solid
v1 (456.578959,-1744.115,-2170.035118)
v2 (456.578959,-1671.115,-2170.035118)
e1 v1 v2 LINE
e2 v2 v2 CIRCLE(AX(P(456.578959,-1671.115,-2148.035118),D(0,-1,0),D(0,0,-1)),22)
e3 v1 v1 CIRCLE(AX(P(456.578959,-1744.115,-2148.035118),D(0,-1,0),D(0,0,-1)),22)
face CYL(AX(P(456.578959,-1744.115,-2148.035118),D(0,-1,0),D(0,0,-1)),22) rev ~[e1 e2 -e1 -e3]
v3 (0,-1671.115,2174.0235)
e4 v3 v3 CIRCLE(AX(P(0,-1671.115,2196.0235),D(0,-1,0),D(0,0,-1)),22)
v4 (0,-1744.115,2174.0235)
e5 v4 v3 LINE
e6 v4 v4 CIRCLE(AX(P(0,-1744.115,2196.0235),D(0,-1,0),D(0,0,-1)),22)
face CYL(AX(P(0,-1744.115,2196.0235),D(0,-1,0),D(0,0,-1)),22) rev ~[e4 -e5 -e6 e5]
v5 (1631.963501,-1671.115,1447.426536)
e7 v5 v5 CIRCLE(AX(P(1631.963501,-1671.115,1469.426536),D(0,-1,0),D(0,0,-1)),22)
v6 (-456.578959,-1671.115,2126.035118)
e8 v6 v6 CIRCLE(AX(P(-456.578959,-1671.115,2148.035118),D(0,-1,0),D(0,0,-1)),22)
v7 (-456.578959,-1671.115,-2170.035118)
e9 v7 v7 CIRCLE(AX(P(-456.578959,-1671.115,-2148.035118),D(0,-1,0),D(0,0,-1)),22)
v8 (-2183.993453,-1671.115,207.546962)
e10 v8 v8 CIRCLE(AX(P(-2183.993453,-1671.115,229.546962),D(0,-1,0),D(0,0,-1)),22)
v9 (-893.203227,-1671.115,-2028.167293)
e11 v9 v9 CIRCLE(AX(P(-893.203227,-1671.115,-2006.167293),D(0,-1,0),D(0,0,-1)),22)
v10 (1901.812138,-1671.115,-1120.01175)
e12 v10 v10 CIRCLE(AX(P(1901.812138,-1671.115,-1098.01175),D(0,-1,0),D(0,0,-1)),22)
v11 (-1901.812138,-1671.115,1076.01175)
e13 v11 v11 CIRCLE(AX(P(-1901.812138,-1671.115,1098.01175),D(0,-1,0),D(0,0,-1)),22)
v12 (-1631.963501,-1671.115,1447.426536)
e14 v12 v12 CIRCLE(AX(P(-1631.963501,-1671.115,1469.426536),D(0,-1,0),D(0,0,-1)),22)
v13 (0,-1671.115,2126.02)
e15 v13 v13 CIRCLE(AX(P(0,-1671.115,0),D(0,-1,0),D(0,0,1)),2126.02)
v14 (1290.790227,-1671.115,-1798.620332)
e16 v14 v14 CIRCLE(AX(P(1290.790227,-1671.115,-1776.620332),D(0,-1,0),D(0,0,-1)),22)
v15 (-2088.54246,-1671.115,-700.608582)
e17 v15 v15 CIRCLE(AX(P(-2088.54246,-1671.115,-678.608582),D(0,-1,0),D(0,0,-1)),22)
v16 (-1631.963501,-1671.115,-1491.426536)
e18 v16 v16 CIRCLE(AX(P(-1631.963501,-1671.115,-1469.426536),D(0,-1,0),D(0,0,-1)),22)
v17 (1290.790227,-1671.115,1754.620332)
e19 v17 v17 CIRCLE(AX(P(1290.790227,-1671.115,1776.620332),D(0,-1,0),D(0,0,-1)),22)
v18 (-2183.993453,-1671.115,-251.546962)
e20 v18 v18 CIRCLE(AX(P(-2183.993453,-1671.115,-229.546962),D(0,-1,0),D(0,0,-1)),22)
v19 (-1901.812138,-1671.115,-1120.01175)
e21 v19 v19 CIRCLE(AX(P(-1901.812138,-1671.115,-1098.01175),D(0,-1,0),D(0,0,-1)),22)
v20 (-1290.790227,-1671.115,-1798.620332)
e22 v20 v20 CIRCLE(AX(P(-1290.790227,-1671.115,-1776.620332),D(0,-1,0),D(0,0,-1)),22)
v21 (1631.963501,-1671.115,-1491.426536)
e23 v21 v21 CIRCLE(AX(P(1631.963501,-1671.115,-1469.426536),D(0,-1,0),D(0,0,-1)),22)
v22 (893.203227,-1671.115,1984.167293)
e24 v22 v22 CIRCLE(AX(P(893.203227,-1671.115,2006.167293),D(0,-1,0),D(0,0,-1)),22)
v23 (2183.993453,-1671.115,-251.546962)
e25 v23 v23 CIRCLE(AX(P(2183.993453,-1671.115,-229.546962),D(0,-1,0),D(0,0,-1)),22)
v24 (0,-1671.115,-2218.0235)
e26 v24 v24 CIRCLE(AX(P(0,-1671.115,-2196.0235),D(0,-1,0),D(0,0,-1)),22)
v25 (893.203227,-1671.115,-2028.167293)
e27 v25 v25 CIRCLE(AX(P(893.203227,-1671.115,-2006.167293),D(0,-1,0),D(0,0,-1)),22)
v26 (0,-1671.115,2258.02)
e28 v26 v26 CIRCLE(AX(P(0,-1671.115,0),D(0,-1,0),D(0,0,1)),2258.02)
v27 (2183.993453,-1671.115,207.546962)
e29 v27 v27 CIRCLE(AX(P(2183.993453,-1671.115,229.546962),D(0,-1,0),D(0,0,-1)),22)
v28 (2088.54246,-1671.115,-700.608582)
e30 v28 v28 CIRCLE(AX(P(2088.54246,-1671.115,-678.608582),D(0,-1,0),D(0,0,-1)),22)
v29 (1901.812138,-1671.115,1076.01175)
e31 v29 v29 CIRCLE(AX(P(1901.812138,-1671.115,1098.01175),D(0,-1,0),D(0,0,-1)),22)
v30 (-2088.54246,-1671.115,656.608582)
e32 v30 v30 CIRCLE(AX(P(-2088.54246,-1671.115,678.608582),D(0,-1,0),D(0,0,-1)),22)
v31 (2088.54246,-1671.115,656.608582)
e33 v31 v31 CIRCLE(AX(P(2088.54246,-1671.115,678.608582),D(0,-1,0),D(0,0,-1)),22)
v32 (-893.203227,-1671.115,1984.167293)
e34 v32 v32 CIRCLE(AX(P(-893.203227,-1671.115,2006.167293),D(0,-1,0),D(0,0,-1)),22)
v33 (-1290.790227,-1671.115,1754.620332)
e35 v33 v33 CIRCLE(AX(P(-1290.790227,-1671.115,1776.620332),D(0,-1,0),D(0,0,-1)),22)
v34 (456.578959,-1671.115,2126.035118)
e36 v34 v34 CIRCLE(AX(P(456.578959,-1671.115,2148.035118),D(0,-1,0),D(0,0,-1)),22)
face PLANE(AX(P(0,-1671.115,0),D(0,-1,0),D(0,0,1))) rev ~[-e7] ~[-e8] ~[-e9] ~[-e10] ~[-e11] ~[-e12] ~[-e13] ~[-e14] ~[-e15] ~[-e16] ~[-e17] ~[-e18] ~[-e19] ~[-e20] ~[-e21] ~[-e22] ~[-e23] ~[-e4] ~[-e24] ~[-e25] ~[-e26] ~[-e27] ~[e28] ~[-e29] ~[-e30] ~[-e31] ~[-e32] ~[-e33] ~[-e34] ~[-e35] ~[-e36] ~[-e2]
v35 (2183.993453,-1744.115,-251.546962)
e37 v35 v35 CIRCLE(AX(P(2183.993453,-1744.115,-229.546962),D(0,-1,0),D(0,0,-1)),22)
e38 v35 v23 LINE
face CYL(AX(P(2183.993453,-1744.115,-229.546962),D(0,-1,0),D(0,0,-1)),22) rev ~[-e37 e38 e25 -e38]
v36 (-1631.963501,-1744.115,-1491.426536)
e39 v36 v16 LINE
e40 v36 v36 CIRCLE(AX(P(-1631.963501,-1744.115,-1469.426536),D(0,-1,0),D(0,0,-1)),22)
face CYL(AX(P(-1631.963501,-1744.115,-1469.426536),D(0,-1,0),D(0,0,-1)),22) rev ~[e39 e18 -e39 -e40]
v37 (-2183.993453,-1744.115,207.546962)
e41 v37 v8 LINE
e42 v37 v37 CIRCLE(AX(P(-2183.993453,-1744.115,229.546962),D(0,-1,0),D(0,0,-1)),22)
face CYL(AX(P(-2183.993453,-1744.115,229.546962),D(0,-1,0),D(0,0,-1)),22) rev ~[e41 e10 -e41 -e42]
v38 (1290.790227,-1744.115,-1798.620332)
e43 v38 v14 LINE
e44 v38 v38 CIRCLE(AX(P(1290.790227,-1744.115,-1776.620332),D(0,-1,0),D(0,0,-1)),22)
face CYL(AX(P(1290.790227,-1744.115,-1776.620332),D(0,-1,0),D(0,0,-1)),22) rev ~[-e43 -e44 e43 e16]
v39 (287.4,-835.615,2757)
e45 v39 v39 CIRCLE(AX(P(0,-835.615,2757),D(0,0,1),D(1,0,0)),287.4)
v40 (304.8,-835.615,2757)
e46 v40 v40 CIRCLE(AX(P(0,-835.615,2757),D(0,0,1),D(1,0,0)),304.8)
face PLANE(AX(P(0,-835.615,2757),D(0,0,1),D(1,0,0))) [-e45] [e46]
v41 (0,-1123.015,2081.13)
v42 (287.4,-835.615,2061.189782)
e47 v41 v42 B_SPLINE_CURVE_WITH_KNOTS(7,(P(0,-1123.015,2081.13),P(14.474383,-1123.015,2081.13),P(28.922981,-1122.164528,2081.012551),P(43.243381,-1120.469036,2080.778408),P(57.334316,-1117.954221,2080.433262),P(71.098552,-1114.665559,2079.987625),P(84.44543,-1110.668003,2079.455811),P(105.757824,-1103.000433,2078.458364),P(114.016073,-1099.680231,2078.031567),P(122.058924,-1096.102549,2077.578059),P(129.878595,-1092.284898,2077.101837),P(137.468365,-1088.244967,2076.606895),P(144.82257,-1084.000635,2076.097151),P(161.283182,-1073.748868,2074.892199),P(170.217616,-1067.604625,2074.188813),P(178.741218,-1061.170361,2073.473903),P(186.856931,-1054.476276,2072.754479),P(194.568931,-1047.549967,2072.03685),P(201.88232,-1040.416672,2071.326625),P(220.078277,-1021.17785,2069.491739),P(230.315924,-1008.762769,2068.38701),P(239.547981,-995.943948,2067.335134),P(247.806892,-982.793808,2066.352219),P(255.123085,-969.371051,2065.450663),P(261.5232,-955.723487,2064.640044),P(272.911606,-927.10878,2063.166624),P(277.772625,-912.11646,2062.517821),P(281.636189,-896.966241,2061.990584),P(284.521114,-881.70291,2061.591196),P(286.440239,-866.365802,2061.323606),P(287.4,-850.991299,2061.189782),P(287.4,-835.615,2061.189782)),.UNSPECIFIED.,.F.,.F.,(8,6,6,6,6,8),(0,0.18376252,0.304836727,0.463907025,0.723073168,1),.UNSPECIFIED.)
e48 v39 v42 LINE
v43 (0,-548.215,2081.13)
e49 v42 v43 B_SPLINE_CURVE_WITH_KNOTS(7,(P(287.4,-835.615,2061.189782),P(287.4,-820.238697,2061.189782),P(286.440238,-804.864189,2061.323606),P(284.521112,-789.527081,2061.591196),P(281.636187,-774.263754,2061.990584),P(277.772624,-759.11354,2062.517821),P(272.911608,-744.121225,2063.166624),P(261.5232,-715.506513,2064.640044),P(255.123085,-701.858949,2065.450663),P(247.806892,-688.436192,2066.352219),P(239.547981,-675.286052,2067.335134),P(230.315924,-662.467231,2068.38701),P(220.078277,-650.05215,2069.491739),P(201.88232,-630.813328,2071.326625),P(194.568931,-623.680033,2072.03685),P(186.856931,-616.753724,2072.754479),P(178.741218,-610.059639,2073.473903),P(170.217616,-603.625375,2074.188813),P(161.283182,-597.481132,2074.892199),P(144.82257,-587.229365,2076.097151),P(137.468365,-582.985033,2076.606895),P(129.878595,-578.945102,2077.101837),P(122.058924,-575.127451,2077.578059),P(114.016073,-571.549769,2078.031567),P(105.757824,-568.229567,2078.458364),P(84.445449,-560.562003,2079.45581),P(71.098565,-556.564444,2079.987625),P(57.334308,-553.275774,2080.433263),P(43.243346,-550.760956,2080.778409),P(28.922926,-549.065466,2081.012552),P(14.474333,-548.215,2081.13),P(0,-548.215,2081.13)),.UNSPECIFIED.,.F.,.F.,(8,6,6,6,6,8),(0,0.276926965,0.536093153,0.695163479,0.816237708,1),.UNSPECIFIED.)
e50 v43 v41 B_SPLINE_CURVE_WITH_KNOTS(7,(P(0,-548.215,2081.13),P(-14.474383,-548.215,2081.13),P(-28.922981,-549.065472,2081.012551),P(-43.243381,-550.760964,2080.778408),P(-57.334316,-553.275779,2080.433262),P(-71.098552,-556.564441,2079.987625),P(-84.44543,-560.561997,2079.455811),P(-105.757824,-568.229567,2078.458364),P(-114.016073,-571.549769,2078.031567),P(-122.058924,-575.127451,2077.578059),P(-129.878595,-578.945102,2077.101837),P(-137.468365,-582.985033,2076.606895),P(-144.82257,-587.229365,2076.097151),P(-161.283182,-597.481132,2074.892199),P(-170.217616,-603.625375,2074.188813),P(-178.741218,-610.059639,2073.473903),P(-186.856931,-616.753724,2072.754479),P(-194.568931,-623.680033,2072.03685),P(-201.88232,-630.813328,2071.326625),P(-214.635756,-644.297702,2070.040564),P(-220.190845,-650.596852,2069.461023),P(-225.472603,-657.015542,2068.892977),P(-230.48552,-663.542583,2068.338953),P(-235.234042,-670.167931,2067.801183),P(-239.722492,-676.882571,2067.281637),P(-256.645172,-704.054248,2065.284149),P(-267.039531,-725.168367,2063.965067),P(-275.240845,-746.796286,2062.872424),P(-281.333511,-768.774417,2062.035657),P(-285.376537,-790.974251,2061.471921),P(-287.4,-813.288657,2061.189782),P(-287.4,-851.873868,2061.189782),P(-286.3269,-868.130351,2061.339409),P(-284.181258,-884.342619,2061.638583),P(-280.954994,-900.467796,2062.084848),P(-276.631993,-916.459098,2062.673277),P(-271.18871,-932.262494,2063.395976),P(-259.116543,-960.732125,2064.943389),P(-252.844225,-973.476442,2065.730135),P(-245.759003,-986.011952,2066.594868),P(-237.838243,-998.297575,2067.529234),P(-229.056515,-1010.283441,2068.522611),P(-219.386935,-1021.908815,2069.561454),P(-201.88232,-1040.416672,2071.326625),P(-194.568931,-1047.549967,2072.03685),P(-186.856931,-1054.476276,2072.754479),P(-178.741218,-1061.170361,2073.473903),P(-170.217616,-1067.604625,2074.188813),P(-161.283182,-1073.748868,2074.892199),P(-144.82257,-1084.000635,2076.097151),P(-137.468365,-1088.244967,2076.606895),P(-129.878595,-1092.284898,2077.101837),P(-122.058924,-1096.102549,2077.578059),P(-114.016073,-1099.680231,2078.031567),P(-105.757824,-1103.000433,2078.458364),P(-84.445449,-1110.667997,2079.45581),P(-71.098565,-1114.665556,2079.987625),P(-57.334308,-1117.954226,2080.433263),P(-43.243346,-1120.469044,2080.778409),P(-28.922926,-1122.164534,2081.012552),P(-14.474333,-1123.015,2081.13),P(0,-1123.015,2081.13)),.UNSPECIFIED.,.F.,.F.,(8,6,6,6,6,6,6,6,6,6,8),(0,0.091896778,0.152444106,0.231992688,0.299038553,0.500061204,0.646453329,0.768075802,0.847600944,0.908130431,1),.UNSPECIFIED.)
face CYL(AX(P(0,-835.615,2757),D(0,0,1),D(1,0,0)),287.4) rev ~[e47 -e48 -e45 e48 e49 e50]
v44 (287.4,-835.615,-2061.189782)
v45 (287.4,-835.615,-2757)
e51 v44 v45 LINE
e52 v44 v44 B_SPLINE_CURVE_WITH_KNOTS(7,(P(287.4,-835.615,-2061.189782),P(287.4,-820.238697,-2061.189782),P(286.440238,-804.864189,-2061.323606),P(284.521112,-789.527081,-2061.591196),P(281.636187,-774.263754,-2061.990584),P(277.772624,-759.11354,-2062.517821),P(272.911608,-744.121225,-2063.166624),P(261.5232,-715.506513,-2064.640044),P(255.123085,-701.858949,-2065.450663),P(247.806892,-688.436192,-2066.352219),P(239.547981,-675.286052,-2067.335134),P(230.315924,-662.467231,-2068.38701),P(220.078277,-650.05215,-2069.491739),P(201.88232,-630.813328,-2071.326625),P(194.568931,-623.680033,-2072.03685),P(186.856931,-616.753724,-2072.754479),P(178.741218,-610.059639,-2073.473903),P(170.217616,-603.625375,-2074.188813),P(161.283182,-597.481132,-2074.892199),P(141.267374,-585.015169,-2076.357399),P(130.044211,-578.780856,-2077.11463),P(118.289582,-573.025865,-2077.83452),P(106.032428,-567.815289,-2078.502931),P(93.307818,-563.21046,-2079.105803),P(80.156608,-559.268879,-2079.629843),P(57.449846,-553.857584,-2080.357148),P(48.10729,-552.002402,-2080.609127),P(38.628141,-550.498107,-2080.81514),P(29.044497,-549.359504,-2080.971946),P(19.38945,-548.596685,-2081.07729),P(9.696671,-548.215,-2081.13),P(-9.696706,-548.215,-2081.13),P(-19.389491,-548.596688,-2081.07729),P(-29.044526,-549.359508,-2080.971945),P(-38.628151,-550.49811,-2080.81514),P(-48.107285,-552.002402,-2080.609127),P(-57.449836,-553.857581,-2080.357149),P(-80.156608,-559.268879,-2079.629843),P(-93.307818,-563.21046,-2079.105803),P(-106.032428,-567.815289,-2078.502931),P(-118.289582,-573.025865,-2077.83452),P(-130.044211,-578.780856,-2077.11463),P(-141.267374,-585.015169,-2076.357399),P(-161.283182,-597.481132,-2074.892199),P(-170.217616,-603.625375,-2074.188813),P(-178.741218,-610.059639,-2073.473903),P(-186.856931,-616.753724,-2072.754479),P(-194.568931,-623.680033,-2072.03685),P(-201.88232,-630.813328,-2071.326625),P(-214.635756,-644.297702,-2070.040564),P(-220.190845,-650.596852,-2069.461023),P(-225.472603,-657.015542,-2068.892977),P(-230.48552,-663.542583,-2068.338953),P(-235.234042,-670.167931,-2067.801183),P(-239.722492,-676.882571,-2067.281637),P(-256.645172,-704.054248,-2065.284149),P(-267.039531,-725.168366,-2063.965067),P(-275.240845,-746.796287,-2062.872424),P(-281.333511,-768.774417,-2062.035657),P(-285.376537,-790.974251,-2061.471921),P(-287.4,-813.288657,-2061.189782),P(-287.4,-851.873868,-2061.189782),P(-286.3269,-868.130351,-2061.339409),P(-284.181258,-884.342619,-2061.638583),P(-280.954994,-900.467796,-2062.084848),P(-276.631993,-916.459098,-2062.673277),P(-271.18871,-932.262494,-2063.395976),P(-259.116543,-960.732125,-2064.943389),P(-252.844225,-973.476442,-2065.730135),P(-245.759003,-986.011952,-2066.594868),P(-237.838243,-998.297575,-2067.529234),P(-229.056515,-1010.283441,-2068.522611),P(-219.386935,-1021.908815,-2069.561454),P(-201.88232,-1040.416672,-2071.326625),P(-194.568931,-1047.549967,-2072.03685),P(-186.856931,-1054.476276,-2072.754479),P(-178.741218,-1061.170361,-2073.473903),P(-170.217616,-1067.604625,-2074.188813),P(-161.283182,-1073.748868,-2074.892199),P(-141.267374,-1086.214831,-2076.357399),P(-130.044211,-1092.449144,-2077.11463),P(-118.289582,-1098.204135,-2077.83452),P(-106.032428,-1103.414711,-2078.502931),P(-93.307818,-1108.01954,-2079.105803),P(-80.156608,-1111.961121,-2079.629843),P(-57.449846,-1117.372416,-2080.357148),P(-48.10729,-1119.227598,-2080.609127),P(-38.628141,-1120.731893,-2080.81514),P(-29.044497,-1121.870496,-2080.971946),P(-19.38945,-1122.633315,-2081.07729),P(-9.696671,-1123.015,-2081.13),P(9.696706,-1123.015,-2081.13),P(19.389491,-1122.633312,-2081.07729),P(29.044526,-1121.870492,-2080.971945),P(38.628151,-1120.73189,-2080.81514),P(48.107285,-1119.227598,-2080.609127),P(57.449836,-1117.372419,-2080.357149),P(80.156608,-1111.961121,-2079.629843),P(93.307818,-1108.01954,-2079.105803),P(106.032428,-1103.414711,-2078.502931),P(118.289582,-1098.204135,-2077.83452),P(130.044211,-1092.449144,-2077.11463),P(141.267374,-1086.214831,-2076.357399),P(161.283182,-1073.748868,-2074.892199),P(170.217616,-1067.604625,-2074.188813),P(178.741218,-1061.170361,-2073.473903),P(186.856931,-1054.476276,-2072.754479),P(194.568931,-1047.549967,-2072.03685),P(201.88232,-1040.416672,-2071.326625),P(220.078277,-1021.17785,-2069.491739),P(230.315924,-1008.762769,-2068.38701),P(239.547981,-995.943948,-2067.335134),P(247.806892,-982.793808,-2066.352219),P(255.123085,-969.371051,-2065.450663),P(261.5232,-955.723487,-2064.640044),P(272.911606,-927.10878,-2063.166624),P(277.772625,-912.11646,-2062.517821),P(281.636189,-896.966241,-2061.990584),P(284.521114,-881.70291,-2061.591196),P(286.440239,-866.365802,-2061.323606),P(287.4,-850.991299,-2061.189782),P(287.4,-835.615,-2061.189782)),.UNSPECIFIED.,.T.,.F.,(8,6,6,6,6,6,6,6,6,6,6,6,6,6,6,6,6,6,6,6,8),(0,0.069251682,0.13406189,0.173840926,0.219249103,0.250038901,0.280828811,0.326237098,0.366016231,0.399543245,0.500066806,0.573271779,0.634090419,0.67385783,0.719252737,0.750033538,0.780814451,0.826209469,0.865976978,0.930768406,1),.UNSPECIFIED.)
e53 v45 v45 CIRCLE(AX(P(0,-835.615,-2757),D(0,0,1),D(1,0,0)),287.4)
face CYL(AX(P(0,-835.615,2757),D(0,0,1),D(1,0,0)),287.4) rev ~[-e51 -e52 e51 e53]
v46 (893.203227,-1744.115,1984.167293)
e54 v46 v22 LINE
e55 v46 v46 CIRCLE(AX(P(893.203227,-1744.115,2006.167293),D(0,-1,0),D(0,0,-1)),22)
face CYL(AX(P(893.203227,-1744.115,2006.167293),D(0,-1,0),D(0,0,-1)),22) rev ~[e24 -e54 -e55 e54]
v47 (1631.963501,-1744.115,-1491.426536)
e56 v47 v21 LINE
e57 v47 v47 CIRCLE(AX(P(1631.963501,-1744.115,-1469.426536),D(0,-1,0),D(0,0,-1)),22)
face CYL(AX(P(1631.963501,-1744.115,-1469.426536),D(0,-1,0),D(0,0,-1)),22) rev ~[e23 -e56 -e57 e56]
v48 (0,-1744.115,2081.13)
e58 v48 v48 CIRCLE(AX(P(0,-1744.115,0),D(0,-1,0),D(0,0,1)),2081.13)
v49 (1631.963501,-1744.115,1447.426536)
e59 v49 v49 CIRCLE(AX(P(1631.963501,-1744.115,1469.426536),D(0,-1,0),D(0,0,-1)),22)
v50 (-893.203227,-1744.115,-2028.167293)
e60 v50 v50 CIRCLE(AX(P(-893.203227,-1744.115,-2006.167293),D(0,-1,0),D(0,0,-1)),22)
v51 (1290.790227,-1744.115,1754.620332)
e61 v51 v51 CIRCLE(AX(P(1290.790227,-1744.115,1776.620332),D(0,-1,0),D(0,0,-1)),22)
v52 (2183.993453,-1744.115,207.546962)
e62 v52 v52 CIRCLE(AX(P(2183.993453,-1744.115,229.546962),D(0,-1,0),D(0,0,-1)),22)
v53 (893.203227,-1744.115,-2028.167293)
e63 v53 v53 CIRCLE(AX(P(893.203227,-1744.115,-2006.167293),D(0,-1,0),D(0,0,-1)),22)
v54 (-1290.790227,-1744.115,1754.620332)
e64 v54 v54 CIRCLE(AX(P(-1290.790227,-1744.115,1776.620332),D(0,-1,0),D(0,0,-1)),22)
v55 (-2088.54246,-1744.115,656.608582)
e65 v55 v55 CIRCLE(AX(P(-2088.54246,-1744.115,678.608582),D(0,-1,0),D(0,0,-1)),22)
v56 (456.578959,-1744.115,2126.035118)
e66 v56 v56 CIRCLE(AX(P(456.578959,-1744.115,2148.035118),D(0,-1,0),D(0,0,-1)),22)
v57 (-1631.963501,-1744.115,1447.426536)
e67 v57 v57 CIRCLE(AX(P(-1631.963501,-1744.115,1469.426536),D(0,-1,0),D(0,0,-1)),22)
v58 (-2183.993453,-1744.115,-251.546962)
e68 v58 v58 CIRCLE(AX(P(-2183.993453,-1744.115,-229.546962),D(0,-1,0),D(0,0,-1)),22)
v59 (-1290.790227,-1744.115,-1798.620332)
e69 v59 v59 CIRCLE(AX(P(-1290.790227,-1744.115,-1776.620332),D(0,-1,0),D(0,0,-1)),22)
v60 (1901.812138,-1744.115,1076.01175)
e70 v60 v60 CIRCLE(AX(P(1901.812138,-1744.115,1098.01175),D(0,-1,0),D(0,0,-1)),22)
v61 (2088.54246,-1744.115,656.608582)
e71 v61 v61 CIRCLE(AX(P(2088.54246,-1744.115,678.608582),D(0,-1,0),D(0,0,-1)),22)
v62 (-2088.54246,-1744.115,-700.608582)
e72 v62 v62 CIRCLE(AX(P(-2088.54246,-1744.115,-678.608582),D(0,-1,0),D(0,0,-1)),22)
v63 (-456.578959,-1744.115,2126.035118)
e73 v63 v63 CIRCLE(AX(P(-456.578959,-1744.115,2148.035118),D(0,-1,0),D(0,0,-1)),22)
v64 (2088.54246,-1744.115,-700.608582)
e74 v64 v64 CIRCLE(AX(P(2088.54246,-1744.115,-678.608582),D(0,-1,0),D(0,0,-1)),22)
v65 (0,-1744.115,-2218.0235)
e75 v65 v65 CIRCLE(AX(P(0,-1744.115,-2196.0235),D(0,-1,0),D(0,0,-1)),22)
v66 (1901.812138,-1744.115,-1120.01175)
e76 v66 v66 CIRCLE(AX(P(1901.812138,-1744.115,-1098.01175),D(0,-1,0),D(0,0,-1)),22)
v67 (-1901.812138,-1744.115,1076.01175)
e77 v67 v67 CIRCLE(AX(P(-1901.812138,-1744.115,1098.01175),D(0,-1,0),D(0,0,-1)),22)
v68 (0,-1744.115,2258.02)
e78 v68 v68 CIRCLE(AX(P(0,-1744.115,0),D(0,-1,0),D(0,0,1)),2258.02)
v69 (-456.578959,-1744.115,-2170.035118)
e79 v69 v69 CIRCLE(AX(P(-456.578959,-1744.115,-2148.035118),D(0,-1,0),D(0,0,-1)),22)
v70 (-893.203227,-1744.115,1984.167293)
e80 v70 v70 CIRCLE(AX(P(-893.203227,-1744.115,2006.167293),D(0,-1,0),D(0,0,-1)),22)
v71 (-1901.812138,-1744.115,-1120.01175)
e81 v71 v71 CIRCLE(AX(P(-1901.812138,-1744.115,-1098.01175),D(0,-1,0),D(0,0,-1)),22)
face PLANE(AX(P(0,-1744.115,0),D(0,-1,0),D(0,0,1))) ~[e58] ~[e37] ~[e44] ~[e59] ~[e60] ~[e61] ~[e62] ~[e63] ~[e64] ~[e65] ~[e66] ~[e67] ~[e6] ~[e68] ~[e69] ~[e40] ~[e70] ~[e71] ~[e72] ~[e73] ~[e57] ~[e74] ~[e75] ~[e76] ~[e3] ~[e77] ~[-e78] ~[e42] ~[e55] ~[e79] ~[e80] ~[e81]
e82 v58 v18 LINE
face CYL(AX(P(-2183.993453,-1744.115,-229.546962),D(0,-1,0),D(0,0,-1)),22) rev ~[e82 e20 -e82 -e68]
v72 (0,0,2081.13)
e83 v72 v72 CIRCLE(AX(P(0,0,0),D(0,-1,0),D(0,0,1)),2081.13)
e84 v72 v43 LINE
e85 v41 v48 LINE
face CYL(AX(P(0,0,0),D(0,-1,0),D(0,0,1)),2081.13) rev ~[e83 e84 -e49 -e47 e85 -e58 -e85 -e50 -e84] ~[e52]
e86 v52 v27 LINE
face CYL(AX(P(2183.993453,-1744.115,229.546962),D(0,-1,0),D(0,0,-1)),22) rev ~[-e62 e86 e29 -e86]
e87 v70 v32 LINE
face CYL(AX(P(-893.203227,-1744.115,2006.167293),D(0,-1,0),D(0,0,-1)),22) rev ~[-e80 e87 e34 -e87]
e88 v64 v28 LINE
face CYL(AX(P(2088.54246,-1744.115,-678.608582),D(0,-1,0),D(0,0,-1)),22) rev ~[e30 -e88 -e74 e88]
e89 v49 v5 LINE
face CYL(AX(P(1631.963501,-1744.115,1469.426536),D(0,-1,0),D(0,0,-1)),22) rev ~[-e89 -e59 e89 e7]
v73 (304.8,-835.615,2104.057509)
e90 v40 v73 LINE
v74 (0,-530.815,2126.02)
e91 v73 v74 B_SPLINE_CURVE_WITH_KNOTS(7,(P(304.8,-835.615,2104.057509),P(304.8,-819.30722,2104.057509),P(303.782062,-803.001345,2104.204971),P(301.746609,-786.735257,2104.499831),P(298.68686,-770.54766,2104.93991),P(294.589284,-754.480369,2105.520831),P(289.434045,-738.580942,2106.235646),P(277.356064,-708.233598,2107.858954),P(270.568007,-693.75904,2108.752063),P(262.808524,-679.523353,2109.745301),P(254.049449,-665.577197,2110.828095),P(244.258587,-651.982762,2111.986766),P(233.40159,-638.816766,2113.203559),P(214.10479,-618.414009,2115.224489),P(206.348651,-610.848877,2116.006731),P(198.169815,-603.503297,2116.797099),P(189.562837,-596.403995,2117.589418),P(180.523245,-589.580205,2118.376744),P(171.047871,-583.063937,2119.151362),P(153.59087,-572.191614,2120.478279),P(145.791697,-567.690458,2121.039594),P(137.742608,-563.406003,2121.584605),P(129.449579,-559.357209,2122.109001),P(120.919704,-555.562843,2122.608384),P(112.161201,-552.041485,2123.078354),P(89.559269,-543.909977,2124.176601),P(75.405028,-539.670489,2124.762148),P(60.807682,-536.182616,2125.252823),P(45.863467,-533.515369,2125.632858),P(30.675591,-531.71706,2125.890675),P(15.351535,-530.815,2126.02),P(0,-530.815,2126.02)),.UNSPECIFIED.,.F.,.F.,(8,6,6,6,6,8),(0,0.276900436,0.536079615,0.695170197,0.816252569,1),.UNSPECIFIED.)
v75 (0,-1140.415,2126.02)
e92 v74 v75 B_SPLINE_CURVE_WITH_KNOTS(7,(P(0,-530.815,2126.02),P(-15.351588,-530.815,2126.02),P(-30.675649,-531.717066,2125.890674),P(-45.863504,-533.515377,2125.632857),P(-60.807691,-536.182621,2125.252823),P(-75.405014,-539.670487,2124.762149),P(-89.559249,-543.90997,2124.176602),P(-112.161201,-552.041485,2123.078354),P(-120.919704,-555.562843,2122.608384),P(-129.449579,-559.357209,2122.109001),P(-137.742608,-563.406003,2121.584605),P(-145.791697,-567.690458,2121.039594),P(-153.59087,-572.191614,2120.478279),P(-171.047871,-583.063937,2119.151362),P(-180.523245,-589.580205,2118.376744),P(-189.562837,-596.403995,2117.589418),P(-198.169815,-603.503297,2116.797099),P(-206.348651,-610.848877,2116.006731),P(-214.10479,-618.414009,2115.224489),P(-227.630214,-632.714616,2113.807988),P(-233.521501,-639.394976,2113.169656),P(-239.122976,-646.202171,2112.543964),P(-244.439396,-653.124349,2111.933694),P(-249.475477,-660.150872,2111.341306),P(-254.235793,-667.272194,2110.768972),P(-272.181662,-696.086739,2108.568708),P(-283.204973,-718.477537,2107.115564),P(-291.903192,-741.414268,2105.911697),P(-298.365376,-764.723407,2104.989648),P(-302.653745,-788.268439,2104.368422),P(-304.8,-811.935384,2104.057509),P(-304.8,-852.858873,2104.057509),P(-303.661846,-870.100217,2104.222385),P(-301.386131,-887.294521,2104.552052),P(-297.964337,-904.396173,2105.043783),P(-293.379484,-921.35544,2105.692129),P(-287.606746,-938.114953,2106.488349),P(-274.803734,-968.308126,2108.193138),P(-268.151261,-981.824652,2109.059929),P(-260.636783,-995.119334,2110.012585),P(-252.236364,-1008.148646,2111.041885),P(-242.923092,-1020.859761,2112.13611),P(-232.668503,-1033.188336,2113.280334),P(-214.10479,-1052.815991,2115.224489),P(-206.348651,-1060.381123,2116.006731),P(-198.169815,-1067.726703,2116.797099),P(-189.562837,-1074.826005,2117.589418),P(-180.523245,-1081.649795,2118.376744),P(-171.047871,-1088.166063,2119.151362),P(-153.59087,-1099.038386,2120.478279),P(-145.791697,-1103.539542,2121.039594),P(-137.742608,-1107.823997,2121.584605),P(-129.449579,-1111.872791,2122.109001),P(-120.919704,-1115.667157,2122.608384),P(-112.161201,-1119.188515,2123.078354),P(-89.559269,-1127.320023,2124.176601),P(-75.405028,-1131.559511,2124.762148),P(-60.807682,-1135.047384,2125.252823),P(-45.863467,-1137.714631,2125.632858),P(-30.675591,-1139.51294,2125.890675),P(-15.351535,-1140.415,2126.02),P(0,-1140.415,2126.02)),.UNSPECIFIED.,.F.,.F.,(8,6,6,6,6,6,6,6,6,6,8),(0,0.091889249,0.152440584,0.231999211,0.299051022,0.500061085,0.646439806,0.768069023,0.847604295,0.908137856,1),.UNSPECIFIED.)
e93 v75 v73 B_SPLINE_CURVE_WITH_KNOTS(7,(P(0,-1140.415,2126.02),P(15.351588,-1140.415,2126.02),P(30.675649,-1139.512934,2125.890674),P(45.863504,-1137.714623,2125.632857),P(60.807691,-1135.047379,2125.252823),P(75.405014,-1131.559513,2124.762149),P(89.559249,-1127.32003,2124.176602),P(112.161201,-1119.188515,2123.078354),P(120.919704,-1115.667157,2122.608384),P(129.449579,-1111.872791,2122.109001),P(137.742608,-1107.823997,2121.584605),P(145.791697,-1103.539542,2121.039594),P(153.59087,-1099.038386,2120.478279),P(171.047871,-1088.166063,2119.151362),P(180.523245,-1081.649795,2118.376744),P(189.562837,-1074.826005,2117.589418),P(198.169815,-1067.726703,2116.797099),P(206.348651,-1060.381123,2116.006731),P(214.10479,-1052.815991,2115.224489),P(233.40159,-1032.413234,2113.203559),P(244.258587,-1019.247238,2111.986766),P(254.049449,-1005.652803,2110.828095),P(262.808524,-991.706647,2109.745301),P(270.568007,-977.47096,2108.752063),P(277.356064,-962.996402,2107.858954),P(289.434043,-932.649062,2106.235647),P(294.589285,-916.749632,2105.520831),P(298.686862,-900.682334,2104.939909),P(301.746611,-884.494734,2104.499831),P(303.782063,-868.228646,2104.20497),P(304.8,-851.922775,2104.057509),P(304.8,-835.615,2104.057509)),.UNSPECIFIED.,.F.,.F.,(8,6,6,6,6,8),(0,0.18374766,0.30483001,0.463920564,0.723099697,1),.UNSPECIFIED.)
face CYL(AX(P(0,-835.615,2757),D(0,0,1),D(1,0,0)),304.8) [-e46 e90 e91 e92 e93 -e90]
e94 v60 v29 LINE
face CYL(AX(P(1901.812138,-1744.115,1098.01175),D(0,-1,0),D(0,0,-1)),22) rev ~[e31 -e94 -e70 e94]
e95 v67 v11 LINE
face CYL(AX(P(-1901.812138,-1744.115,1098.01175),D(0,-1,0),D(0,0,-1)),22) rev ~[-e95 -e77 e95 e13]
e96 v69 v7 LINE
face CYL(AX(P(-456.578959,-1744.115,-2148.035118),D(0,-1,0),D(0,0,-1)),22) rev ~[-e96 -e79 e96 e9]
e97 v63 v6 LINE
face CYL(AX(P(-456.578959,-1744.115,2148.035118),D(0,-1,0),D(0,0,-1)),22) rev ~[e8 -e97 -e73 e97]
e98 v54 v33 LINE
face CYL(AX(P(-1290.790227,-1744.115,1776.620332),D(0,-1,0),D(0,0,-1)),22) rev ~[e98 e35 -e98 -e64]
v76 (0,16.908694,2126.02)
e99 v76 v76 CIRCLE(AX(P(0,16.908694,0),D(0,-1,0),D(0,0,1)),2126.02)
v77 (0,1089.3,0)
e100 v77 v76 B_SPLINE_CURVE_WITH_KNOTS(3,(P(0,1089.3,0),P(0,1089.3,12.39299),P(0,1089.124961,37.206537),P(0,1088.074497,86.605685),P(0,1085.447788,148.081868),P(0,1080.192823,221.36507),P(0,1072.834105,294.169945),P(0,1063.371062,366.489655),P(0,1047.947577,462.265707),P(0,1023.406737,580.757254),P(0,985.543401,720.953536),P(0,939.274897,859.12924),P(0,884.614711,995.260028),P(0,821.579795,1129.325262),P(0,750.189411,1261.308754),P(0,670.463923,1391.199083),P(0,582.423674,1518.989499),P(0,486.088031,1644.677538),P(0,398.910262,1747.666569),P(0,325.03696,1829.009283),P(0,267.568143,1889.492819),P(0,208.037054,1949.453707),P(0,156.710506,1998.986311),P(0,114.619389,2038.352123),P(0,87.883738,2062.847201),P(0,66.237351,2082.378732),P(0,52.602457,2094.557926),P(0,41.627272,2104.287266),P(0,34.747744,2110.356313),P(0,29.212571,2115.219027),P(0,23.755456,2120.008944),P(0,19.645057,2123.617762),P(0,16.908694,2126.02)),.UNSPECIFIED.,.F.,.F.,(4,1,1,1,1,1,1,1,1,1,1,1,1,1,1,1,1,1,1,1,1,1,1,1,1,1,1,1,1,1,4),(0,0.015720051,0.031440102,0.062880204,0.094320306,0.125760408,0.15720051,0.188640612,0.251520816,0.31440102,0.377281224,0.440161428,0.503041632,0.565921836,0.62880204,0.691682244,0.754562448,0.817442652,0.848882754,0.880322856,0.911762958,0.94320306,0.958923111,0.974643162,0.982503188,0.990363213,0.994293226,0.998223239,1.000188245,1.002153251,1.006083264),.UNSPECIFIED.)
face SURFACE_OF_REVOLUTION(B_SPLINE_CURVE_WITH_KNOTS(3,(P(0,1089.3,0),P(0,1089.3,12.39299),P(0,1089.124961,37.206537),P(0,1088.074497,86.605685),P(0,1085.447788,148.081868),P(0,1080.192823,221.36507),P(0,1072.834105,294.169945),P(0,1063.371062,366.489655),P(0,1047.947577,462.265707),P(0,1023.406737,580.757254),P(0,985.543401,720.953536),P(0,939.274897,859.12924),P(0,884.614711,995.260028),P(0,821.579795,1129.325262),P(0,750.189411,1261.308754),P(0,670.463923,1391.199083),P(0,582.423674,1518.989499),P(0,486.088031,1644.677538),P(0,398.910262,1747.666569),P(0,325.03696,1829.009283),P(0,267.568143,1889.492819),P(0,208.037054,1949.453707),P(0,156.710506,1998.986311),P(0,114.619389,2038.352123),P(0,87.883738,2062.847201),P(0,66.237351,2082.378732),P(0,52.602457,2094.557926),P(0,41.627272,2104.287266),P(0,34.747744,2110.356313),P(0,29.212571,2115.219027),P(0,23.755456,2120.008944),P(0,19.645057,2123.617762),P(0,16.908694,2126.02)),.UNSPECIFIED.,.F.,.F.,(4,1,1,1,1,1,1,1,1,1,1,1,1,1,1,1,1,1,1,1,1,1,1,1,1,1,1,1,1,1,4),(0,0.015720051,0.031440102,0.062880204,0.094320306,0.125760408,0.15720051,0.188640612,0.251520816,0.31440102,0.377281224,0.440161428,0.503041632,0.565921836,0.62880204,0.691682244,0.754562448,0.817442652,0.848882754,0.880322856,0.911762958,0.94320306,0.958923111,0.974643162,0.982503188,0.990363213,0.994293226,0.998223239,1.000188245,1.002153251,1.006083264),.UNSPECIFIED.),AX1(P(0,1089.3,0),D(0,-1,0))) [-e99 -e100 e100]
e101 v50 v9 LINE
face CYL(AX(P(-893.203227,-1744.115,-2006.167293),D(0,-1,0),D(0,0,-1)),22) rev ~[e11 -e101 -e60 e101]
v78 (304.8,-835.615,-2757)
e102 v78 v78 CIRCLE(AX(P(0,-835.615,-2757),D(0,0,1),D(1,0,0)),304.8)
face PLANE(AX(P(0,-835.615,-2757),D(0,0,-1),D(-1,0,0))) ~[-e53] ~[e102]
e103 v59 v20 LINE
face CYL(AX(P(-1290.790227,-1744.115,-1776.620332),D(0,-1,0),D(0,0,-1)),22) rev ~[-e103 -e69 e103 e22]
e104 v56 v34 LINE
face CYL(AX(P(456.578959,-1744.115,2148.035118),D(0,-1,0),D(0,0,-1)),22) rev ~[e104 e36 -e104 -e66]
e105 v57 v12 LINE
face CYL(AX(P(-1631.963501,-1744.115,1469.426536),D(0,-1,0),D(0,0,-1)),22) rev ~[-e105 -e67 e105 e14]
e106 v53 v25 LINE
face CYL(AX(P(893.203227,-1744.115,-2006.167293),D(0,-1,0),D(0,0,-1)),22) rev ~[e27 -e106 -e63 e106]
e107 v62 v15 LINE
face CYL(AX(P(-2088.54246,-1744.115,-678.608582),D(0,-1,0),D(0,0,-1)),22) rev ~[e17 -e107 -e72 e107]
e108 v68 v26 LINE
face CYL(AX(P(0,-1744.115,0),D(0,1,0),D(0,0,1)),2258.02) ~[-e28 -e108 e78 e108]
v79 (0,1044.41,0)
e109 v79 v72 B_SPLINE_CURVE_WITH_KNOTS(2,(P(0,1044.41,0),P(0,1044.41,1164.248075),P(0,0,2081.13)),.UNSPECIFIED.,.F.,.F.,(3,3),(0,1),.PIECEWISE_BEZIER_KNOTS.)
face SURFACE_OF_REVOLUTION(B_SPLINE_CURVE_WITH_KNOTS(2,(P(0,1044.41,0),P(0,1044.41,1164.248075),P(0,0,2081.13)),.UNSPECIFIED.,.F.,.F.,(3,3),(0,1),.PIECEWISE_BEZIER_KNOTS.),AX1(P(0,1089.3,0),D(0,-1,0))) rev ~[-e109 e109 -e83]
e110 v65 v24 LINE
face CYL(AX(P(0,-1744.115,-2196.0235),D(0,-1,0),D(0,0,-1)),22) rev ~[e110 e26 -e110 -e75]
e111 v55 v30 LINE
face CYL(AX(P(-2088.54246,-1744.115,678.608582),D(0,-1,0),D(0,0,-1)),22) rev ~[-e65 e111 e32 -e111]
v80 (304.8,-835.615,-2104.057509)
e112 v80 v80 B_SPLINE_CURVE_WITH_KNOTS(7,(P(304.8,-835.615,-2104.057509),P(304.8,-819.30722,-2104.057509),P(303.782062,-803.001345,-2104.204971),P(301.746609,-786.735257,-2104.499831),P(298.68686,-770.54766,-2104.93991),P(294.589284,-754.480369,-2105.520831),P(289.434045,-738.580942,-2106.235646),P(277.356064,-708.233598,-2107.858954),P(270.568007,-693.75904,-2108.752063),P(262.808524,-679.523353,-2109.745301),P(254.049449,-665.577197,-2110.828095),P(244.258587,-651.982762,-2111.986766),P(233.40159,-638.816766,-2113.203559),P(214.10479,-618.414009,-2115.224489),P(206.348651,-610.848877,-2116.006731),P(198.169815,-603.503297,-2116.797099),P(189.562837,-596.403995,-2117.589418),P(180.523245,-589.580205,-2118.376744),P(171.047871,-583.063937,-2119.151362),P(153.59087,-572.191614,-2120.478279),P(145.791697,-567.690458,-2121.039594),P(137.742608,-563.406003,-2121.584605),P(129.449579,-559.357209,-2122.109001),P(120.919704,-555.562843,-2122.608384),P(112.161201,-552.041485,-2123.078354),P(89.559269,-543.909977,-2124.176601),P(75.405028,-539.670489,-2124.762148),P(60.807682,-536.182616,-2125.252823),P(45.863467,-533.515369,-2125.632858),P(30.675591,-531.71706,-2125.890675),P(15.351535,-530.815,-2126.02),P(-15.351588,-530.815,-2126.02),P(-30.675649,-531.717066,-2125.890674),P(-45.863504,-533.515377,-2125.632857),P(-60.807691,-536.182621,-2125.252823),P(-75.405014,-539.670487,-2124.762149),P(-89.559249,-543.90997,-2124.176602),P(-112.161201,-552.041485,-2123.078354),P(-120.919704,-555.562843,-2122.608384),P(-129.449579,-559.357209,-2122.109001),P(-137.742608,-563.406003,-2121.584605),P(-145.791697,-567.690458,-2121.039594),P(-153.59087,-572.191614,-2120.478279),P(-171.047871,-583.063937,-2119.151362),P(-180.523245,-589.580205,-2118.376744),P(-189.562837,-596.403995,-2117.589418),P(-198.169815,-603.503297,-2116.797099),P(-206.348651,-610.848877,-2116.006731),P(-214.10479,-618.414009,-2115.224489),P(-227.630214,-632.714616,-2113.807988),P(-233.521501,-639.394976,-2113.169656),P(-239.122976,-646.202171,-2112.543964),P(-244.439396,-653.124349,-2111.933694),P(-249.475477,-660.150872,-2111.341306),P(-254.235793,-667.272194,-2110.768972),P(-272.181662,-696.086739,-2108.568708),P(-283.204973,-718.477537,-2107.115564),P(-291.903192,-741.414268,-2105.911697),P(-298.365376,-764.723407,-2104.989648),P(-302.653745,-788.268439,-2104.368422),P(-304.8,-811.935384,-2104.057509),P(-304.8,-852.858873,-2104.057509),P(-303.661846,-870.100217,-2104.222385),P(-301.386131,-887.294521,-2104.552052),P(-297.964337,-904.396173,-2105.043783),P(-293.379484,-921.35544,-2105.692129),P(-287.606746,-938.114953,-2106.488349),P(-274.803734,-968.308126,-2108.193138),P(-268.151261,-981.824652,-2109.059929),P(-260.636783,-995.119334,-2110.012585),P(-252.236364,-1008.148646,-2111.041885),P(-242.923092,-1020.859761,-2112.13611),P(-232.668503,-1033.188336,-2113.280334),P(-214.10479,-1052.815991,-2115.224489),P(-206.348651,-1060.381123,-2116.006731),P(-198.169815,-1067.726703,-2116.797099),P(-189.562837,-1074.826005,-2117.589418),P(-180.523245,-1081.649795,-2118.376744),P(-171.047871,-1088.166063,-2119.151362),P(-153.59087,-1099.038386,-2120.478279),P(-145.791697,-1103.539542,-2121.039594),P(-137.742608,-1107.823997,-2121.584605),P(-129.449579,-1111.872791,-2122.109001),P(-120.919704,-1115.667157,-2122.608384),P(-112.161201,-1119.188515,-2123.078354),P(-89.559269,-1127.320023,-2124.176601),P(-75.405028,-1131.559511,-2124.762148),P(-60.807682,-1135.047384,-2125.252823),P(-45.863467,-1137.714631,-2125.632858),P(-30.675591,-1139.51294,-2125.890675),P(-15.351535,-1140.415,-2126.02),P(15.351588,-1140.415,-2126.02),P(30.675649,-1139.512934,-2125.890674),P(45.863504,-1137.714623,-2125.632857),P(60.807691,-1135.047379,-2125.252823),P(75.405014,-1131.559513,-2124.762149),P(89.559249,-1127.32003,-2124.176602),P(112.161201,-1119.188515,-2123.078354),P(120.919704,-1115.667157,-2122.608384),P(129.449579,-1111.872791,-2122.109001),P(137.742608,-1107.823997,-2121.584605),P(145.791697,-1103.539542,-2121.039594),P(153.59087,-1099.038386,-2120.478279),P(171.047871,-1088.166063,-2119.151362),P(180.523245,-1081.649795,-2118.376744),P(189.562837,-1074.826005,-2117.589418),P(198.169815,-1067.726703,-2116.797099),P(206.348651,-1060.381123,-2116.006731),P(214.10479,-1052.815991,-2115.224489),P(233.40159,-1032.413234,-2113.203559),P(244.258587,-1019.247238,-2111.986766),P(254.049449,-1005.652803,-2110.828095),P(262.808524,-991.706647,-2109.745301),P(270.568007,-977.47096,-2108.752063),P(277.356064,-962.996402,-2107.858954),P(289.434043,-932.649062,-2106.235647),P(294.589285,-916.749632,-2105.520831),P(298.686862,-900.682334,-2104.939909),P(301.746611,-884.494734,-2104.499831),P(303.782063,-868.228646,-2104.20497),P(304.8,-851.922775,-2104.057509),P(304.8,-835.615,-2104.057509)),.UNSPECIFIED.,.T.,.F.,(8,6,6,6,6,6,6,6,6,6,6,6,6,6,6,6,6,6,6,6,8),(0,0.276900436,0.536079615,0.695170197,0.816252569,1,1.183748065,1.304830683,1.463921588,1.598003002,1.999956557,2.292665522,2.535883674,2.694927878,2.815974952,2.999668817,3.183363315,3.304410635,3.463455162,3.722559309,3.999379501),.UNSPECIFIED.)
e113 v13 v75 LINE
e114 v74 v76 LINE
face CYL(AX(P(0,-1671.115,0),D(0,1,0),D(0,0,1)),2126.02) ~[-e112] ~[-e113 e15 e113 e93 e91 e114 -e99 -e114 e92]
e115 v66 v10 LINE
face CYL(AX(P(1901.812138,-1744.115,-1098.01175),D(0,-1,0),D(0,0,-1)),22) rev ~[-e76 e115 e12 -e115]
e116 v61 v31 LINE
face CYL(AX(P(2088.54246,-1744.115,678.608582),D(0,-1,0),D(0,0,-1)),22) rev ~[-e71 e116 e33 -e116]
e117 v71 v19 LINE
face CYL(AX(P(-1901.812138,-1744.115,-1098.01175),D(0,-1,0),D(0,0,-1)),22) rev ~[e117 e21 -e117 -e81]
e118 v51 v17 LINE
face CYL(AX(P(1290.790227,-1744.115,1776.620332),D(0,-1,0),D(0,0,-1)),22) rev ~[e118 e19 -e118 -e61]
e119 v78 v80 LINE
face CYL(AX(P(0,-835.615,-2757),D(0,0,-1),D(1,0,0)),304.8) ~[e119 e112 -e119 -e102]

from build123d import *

# Parameters (mm, degrees)
BOSS_EXTRUDE1_REACH      = 5771.837
BOSS_EXTRUDE1_END_RADIUS = 2126.02
SKETCH2_R                = 304.8
SKETCH3_R                = 287.4
CUT_EXTRUDE1_DEPTH       = 6209.444849938
SKETCH4_R                = 22
CUT_EXTRUDE2_DEPTH       = 73


with BuildPart() as part:
    # Sketch1 → Revolve1 (revolve)
    with BuildSketch(Plane(origin=(0, 0, 0), x_dir=(0, 0, -1), z_dir=(1, 0, 0))):
        with BuildLine():
            Line((-2081.13, 0), (-2081.13, -1744.115))
            Line((-2081.13, -1744.115), (-2258.02, -1744.115))
            Line((-2258.02, -1744.115), (-2258.02, -1671.115))
            Line((-2258.02, -1671.115), (-2126.02, -1671.115))
            Line((-2126.02, -1671.115), (-2126.02, 16.908694058))
            add(Edge.make_bspline(
                [(0, 1089.3), (-12.392990415, 1089.3), (-37.206537081, 1089.124960777), (-86.605685239, 1088.074496713), (-148.081867942, 1085.447787548), (-221.365070258, 1080.19282346), (-294.169944863, 1072.834104858), (-366.489655143, 1063.371062264), (-462.265706687, 1047.947576946), (-580.757253644, 1023.40673665), (-720.95353597, 985.543401213), (-859.129239636, 939.274896904), (-995.260028391, 884.614710839), (-1129.325261675, 821.579795162), (-1261.308754394, 750.189410502), (-1391.199082661, 670.463922669), (-1518.989499495, 582.423674188), (-1644.67753802, 486.088031063), (-1747.666568989, 398.910261982), (-1829.009282888, 325.036960119), (-1889.492819428, 267.568143076), (-1949.453707229, 208.03705372), (-1998.986311153, 156.710506328), (-2038.352122681, 114.619388853), (-2062.847201264, 87.883738096), (-2082.378732273, 66.237350684), (-2094.557926136, 52.602456699), (-2104.287266127, 41.627271505), (-2110.35631283, 34.747743678), (-2115.219026543, 29.212570574), (-2120.008944205, 23.755456154), (-2123.617761564, 19.645057136), (-2126.02, 16.908694058)],
                knots=[0, 0, 0, 0, 0.015720051, 0.031440102, 0.062880204, 0.094320306, 0.125760408, 0.15720051, 0.188640612, 0.251520816, 0.31440102, 0.377281224, 0.440161428, 0.503041632, 0.565921836, 0.62880204, 0.691682244, 0.754562448, 0.817442652, 0.848882754, 0.880322856, 0.911762958, 0.94320306, 0.958923111, 0.974643162, 0.982503188, 0.990363213, 0.994293226, 0.998223239, 1.000188245, 1.002153251, 1.006083264, 1.006083264, 1.006083264, 1.006083264], degree=3))
            Line((0, 1089.3), (0, 1044.41))
            add(Edge.make_bspline(
                [(0, 1044.41), (-1164.248075476, 1044.41), (-2081.13, 0)],
                knots=[0, 0, 0, 1, 1, 1], degree=2))
        make_face()
    revolve(axis=Axis((0, 1089.3, 0), (0, -1, 0)))

    # Boss-Extrude1: up to this cylinder (the profile starts outside it)
    boss_extrude1_end = Plane(origin=(0, -835.615, 0), z_dir=(0, 1, 0)) * Cylinder(BOSS_EXTRUDE1_END_RADIUS, 15796.714, mode=Mode.PRIVATE)
    # Sketch2 → Boss-Extrude1 (add, up to the surface)
    with BuildSketch(Plane.XY.offset(2757), mode=Mode.PRIVATE) as boss_extrude1_sk1:
        with Locations((0, -835.615)):
            Circle(SKETCH2_R)
    boss_extrude1_tool1 = extrude(boss_extrude1_sk1.sketch, amount=-BOSS_EXTRUDE1_REACH, mode=Mode.PRIVATE) - boss_extrude1_end
    boss_extrude1 = boss_extrude1_tool1.solids().sort_by_distance((0, -835.615, 2757))[0]
    add(boss_extrude1)

    # Mirror1: Boss-Extrude1 across plane
    add(boss_extrude1.mirror(Plane.XY))

    # Sketch3 → Cut-Extrude1 (cut, through all)
    with BuildSketch(Plane.XY.offset(2757)):
        with Locations((0, -835.615)):
            Circle(SKETCH3_R)
    extrude(amount=-CUT_EXTRUDE1_DEPTH, mode=Mode.SUBTRACT)

    # Sketch4 → Cut-Extrude2 (cut)
    with BuildSketch(Plane.XZ.offset(1744.115)):
        with Locations(Location((0, 2196.0235, 0), (0, 0, 270))):
            Circle(SKETCH4_R)
        with Locations(Location((456.578958961, 2148.03511768, 0), (0, 0, 270))):
            Circle(SKETCH4_R)
        with Locations(Location((893.203226506, 2006.167293301, 0), (0, 0, 270))):
            Circle(SKETCH4_R)
        with Locations(Location((1290.790226988, 1776.620331547, 0), (0, 0, 270))):
            Circle(SKETCH4_R)
        with Locations(Location((1631.963500652, 1469.426536133, 0), (0, 0, 270))):
            Circle(SKETCH4_R)
        with Locations(Location((1901.812138308, 1098.01175, 0), (0, 0, 270))):
            Circle(SKETCH4_R)
        with Locations(Location((2088.542459612, 678.608581547, 0), (0, 0, 270))):
            Circle(SKETCH4_R)
        with Locations(Location((2183.993453493, 229.546961755, 0), (0, 0, 270))):
            Circle(SKETCH4_R)
        with Locations(Location((2183.993453493, -229.546961755, 0), (0, 0, 270))):
            Circle(SKETCH4_R)
        with Locations(Location((2088.542459612, -678.608581547, 0), (0, 0, 270))):
            Circle(SKETCH4_R)
        with Locations(Location((1901.812138308, -1098.01175, 0), (0, 0, 270))):
            Circle(SKETCH4_R)
        with Locations(Location((1631.963500652, -1469.426536133, 0), (0, 0, 270))):
            Circle(SKETCH4_R)
        with Locations(Location((1290.790226988, -1776.620331547, 0), (0, 0, 270))):
            Circle(SKETCH4_R)
        with Locations(Location((893.203226506, -2006.167293301, 0), (0, 0, 270))):
            Circle(SKETCH4_R)
        with Locations(Location((456.578958961, -2148.03511768, 0), (0, 0, 270))):
            Circle(SKETCH4_R)
        with Locations(Location((0, -2196.0235, 0), (0, 0, 270))):
            Circle(SKETCH4_R)
        with Locations(Location((-456.57895896, -2148.03511768, 0), (0, 0, 270))):
            Circle(SKETCH4_R)
        with Locations(Location((-893.203226505, -2006.167293301, 0), (0, 0, 270))):
            Circle(SKETCH4_R)
        with Locations(Location((-1290.790226988, -1776.620331547, 0), (0, 0, 270))):
            Circle(SKETCH4_R)
        with Locations(Location((-1631.963500652, -1469.426536133, 0), (0, 0, 270))):
            Circle(SKETCH4_R)
        with Locations(Location((-1901.812138307, -1098.01175, 0), (0, 0, 270))):
            Circle(SKETCH4_R)
        with Locations(Location((-2088.542459612, -678.608581547, 0), (0, 0, 270))):
            Circle(SKETCH4_R)
        with Locations(Location((-2183.993453493, -229.546961755, 0), (0, 0, 270))):
            Circle(SKETCH4_R)
        with Locations(Location((-2183.993453493, 229.546961755, 0), (0, 0, 270))):
            Circle(SKETCH4_R)
        with Locations(Location((-2088.542459612, 678.608581547, 0), (0, 0, 270))):
            Circle(SKETCH4_R)
        with Locations(Location((-1901.812138308, 1098.01175, 0), (0, 0, 270))):
            Circle(SKETCH4_R)
        with Locations(Location((-1631.963500652, 1469.426536133, 0), (0, 0, 270))):
            Circle(SKETCH4_R)
        with Locations(Location((-1290.790226988, 1776.620331547, 0), (0, 0, 270))):
            Circle(SKETCH4_R)
        with Locations(Location((-893.203226506, 2006.167293301, 0), (0, 0, 270))):
            Circle(SKETCH4_R)
        with Locations(Location((-456.578958961, 2148.03511768, 0), (0, 0, 270))):
            Circle(SKETCH4_R)
    extrude(amount=-CUT_EXTRUDE2_DEPTH, mode=Mode.SUBTRACT)


solid = part.part
